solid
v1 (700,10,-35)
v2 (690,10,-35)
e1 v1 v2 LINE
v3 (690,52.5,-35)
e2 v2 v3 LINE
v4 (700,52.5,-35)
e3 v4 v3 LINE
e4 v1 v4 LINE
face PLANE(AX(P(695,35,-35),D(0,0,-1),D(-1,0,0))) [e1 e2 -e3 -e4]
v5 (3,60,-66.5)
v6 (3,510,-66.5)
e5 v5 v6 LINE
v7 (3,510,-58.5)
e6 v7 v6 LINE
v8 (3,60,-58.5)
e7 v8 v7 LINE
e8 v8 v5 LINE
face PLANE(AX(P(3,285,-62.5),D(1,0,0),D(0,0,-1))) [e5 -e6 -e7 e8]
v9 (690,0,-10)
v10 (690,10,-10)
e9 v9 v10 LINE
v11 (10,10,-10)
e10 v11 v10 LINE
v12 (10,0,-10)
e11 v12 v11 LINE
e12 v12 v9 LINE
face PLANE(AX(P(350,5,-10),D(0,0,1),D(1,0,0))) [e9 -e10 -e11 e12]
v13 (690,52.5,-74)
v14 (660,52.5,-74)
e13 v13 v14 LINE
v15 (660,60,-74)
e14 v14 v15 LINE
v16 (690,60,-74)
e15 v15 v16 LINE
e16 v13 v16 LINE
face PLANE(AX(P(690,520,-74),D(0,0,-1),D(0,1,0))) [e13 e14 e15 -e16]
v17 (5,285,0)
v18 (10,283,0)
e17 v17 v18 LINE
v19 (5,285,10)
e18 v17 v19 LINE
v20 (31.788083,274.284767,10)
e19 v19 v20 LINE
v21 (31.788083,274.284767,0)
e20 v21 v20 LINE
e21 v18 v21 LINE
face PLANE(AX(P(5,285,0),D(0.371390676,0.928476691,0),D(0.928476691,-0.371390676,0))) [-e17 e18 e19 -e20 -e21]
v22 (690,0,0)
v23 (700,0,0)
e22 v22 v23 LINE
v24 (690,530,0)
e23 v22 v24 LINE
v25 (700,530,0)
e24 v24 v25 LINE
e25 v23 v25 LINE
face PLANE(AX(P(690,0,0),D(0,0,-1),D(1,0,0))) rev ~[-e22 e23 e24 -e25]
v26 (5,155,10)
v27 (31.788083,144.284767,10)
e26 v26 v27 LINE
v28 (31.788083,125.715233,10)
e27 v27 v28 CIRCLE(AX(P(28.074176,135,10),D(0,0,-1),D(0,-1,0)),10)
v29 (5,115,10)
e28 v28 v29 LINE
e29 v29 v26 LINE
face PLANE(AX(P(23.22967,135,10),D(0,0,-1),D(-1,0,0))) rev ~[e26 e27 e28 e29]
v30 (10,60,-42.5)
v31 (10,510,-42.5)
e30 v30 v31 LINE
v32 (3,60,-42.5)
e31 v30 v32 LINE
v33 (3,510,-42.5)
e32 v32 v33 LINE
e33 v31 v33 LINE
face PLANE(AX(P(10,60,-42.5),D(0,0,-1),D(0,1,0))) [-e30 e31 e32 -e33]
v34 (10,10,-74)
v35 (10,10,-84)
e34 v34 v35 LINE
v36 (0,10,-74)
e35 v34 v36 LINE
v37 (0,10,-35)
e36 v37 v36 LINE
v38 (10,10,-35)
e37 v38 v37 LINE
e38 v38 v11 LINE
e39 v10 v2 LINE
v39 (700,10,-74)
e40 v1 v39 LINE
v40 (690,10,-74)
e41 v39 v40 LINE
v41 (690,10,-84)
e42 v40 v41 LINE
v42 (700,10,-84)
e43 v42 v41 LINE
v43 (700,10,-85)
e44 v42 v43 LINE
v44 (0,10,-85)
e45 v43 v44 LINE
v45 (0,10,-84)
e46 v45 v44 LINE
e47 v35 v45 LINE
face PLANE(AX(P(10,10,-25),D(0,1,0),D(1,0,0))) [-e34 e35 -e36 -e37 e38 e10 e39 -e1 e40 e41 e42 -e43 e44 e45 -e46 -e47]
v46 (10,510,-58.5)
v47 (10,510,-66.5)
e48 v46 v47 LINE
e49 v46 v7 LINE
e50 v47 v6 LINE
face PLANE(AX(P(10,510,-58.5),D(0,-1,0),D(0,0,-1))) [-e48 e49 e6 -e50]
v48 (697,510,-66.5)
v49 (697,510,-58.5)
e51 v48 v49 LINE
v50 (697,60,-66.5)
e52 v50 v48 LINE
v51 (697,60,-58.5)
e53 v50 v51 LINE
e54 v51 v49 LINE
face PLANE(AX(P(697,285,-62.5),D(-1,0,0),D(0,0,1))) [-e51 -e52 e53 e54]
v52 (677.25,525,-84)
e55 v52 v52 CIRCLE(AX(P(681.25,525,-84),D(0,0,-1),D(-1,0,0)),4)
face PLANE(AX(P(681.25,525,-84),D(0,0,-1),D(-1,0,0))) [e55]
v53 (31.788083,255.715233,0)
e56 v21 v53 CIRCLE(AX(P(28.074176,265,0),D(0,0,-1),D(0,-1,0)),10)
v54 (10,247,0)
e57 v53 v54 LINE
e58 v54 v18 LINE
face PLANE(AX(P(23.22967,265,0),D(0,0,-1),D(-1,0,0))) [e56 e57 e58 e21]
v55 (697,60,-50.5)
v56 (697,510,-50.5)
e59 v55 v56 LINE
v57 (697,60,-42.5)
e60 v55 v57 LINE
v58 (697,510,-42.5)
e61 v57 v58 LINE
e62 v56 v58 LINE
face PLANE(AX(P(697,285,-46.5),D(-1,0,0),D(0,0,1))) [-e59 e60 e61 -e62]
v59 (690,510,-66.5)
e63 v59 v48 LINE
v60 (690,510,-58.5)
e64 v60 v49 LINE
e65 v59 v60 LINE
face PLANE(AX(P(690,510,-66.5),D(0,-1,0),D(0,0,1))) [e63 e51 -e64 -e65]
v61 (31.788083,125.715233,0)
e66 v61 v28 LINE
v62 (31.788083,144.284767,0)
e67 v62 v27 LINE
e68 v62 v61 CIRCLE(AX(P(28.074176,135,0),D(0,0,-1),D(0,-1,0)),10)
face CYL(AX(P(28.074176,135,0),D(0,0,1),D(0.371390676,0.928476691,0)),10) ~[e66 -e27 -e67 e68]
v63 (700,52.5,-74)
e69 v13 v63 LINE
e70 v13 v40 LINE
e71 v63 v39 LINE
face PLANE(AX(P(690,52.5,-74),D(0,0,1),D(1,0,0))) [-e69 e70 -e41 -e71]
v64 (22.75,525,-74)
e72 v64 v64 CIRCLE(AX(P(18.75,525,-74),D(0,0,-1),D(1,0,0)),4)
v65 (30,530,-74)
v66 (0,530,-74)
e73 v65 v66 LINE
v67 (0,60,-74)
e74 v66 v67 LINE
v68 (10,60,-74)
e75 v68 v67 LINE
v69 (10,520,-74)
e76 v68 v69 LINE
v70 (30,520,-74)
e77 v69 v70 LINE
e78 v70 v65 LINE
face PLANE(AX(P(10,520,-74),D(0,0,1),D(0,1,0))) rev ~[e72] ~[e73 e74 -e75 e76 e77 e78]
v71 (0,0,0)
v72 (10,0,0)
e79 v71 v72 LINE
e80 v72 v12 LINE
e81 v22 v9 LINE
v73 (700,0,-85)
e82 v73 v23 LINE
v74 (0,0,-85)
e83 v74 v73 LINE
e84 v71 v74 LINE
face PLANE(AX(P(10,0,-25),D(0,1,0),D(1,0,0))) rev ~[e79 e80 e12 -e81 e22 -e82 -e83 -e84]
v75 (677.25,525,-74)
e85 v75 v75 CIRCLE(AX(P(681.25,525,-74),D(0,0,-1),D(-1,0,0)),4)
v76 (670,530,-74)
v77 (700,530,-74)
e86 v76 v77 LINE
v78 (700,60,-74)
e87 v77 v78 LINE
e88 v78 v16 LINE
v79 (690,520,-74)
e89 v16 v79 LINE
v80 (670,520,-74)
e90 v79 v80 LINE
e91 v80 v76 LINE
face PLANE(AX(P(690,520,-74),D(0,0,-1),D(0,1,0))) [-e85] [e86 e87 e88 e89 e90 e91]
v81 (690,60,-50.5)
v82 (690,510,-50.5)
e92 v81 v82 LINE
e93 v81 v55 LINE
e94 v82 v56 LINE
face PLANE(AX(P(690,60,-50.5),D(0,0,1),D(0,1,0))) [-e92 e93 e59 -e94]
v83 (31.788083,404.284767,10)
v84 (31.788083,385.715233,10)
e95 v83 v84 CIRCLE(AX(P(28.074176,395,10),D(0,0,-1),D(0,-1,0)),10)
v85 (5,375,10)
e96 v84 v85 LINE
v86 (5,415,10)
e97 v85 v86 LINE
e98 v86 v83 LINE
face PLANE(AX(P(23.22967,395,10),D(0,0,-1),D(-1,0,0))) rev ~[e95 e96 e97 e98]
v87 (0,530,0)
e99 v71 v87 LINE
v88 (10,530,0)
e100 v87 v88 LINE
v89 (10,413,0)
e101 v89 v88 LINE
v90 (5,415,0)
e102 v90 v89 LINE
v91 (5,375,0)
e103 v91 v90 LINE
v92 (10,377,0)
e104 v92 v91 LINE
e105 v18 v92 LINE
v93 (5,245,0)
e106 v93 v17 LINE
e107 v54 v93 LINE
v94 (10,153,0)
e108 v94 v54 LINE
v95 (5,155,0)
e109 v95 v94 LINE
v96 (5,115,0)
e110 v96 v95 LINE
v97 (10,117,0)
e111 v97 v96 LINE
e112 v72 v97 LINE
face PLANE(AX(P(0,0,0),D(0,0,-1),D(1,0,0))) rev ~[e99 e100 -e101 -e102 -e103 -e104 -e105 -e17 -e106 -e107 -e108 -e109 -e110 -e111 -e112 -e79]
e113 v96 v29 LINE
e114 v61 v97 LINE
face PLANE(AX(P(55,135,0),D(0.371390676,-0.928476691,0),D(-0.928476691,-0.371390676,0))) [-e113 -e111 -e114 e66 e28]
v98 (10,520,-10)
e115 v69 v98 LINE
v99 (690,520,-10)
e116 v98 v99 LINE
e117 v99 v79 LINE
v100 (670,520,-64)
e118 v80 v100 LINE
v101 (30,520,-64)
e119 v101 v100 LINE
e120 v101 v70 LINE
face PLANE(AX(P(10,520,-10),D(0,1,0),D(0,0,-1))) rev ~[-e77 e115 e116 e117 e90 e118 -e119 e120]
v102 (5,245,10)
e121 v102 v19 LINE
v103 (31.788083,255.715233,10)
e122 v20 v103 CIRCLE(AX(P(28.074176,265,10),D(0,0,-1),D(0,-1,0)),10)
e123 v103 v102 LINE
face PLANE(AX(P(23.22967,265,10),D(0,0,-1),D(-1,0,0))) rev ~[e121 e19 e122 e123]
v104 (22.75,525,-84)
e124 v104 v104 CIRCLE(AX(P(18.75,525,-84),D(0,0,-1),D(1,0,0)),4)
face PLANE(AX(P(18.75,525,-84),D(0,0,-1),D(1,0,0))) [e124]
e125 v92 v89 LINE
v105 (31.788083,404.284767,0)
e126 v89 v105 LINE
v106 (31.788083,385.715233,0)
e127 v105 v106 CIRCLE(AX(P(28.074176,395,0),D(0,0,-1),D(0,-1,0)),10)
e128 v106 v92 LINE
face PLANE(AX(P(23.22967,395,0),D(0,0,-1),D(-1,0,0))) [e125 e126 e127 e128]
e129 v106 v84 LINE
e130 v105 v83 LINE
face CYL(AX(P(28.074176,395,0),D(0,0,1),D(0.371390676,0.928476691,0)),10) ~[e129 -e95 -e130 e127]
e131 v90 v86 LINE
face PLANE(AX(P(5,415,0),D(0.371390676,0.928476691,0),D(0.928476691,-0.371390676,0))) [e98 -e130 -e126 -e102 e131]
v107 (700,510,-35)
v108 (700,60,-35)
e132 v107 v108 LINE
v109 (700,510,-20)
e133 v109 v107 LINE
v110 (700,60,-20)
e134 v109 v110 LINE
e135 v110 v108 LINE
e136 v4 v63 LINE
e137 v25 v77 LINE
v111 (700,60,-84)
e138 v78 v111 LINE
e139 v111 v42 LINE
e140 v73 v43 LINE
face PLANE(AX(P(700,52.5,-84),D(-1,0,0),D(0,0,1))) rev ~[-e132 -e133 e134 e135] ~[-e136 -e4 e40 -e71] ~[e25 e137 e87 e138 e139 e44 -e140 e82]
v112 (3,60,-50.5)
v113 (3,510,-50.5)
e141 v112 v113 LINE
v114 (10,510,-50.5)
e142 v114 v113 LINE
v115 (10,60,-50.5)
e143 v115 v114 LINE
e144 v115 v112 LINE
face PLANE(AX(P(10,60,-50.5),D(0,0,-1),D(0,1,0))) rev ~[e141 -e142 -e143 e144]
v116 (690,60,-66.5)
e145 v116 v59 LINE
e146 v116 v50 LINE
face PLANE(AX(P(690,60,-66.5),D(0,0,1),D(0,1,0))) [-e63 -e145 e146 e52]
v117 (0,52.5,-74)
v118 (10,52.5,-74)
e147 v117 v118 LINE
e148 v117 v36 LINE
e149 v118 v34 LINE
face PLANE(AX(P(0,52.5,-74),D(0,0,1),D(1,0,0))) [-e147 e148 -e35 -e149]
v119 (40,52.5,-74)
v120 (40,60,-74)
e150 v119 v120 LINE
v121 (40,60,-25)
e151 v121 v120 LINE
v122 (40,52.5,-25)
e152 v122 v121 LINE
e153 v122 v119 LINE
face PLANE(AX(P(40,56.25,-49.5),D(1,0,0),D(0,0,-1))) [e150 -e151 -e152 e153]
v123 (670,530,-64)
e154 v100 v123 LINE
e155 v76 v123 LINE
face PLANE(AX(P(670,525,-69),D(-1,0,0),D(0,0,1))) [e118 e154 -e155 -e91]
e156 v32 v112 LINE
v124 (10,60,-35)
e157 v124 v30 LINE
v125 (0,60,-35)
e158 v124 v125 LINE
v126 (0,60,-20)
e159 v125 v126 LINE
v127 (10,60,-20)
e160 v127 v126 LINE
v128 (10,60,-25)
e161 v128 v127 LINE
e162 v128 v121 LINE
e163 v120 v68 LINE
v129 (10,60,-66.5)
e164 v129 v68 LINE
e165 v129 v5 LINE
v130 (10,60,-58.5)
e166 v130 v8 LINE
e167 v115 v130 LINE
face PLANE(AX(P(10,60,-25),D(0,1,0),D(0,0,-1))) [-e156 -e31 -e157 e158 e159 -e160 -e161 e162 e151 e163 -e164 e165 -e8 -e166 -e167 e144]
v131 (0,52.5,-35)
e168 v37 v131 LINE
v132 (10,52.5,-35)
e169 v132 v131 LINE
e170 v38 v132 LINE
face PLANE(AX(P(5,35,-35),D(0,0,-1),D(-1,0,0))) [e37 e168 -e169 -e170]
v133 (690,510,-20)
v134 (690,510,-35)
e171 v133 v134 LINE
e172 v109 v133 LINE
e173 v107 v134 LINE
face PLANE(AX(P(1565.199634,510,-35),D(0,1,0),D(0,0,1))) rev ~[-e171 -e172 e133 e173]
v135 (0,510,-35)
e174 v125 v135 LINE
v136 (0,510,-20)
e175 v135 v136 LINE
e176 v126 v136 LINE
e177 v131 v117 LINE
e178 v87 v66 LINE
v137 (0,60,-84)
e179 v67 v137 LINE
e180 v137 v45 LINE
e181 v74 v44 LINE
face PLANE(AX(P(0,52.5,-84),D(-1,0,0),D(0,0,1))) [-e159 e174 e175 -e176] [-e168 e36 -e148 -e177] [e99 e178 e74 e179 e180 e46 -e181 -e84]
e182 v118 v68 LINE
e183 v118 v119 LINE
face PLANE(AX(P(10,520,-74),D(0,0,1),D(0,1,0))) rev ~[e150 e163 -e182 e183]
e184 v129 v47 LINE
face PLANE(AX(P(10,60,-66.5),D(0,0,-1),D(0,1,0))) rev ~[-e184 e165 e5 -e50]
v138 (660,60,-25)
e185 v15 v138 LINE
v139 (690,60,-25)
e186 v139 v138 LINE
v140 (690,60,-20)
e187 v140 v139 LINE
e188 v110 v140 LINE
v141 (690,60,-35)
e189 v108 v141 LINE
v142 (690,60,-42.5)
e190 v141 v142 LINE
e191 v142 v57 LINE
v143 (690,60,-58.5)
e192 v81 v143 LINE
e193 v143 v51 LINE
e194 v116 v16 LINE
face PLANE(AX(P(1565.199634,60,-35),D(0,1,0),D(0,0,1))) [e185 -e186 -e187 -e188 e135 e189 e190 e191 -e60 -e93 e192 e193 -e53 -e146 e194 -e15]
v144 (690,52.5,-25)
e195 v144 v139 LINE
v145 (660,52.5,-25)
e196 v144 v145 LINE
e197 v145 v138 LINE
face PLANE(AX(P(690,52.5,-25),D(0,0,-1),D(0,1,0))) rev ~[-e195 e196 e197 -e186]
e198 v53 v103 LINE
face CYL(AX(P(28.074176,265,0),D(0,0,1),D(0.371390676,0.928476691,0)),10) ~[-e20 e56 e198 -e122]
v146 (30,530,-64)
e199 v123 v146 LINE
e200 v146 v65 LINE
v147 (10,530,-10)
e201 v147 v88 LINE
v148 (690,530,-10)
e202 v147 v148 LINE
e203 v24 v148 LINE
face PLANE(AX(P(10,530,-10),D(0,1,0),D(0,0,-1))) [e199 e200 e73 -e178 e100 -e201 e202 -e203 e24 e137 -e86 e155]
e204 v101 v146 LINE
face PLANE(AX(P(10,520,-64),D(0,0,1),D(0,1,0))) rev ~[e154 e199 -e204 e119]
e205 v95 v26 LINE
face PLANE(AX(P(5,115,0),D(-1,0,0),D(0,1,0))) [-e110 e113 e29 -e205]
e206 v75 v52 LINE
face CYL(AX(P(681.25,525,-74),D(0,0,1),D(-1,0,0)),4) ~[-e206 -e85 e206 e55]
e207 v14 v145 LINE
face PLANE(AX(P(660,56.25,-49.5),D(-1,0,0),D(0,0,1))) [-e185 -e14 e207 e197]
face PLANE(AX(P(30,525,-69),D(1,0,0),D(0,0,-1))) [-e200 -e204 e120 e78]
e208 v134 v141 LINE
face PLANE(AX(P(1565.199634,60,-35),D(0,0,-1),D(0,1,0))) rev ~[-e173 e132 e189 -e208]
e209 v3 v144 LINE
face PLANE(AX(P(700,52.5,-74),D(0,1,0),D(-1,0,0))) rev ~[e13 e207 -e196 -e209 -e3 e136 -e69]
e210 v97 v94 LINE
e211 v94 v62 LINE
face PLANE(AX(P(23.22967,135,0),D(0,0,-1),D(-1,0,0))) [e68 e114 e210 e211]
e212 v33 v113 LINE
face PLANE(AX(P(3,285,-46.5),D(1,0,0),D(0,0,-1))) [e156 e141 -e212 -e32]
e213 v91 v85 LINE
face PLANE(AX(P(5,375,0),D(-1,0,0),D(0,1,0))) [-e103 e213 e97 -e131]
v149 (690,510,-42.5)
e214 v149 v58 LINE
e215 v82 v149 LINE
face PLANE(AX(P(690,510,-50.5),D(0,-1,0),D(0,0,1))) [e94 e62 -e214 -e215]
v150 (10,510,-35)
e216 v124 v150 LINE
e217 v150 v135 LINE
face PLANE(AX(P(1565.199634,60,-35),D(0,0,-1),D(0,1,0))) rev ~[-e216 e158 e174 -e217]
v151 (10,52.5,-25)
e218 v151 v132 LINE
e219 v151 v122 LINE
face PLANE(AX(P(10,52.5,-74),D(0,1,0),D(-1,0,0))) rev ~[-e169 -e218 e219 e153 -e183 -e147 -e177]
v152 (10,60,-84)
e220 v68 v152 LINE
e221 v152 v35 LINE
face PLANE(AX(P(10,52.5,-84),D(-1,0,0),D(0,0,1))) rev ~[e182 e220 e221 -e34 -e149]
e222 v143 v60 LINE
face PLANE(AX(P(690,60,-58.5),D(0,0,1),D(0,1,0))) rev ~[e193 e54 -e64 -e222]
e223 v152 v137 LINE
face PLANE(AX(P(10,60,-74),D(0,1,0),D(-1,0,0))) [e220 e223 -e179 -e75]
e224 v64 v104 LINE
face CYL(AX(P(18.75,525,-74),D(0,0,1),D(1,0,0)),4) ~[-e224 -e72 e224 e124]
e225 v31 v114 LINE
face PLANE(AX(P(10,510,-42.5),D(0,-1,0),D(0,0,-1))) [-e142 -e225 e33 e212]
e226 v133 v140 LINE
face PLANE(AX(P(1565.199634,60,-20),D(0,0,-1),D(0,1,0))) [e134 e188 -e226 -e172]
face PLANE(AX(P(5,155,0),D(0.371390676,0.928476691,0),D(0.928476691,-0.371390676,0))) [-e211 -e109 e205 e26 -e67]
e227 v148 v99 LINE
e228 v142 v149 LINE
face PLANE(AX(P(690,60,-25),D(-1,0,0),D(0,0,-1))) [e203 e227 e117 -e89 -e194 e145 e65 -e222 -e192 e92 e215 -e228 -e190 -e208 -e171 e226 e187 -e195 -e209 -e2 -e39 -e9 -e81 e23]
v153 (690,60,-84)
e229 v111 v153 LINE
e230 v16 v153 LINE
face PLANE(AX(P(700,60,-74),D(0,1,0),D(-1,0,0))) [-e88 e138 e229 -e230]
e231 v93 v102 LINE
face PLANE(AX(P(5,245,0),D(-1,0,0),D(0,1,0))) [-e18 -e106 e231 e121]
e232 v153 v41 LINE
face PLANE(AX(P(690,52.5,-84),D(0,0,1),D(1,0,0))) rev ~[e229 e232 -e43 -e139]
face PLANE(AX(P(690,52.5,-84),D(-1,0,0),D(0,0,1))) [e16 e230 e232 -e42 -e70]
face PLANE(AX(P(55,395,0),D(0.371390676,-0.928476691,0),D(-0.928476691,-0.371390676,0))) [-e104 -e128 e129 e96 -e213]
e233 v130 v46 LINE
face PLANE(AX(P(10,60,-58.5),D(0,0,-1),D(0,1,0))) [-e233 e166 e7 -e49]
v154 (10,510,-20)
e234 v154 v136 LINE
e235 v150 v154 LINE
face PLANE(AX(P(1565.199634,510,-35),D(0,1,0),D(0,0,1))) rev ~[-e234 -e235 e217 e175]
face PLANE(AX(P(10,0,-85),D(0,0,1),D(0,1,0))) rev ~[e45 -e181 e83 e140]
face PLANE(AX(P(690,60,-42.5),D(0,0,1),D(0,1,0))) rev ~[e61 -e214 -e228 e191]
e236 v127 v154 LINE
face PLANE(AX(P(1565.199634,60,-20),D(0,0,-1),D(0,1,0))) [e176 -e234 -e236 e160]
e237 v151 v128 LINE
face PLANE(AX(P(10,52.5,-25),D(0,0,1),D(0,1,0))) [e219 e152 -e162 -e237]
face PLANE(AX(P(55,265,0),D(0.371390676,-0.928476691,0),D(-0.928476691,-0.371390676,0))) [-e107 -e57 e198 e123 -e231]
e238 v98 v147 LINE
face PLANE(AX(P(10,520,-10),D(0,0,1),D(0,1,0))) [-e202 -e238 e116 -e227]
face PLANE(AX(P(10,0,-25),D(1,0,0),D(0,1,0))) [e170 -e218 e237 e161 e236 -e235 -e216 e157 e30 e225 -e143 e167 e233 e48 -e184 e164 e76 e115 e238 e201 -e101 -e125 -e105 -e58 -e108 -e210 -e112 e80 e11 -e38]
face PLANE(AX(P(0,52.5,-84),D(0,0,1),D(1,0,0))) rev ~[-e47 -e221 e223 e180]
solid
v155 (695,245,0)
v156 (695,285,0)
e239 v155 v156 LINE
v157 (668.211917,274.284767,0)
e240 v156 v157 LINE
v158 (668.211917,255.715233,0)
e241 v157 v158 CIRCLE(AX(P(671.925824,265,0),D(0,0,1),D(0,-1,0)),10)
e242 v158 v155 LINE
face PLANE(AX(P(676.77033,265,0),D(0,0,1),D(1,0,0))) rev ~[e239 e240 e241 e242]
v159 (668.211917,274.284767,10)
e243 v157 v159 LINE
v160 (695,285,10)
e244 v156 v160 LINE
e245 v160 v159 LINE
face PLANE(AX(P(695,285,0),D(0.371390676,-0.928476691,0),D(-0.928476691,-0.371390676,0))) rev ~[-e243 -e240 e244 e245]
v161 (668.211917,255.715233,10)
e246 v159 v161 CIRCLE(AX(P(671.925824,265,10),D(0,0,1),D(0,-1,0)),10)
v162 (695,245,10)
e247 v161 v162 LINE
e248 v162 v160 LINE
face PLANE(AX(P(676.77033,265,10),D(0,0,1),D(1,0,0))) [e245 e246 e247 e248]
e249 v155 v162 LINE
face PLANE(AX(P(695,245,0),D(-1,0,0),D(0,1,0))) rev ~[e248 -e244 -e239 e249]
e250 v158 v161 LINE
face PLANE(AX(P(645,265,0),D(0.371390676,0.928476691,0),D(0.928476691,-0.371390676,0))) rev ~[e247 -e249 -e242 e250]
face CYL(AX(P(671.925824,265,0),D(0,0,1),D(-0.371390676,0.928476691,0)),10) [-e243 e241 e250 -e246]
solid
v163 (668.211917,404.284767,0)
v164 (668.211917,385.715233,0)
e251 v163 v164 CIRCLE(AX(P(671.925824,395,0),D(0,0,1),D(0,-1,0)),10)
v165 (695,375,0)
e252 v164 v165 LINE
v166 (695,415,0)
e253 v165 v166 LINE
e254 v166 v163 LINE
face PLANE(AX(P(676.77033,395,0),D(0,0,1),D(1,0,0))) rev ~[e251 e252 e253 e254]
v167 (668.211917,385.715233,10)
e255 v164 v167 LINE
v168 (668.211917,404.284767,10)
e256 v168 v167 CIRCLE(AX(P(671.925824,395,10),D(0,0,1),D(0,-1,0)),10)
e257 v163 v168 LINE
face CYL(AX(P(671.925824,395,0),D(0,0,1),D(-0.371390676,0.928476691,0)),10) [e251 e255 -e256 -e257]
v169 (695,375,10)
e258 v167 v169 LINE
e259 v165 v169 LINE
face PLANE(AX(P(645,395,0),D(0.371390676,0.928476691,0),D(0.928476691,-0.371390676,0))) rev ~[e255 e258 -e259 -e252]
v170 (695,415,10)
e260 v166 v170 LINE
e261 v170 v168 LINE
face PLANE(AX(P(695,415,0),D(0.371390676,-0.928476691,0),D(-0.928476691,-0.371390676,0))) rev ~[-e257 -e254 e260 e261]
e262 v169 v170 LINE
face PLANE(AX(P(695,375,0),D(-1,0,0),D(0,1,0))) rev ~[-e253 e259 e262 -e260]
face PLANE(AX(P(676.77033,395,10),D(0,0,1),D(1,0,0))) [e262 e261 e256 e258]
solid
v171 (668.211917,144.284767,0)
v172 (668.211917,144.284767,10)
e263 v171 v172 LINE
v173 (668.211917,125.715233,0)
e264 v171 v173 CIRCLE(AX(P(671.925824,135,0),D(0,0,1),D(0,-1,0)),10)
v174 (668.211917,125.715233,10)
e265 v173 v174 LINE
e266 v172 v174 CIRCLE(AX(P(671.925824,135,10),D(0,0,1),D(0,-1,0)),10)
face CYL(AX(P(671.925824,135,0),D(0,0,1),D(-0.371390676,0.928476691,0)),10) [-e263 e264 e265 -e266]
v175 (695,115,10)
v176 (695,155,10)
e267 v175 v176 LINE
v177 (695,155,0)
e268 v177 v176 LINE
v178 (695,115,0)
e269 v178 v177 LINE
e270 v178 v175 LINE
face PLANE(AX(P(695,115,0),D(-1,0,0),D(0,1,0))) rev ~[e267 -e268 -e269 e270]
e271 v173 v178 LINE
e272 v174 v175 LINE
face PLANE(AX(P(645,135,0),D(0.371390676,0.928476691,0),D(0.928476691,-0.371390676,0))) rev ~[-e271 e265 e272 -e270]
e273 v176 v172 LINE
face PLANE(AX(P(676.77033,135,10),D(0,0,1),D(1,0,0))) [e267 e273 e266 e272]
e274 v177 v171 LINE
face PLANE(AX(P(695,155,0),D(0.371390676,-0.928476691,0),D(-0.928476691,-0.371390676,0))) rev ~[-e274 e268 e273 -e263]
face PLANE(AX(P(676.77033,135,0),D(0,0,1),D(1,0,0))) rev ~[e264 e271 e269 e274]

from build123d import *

# Parameters (mm, degrees)
ESQUISSE1_W                  = 10
ESQUISSE1_H                  = 25
BOSS_EXTRU_1_DEPTH           = 530
BOSS_EXTRU_1_2_DEPTH         = 530
BOSS_EXTRU_4_DEPTH           = 10
ESQUISSE8_W                  = 10
ESQUISSE8_H                  = 10
BOSS_EXTRU_5_DEPTH           = 60
ESQUISSE9_W                  = 60
ESQUISSE9_H                  = 10
BOSS_EXTRU_6_DEPTH           = 690
CONG_1_R                     = 10
CONG_2_R                     = 10
CONG_3_R                     = 10
CONG_4_R                     = 10
ESQUISSE10_W                 = 680
ESQUISSE10_H                 = 10
BOSS_EXTRU_7_DEPTH           = 15
ESQUISSE11_W                 = 10
ESQUISSE11_H                 = 50
BOSS_EXTRU_8_DEPTH           = 10
ESQUISSE12_W                 = 10
ESQUISSE12_H                 = 7.5
BOSS_EXTRU_9_DEPTH           = 39
ESQUISSE13_W                 = 49
ESQUISSE13_H                 = 7.5
BOSS_EXTRU_10_DEPTH          = 30
ESQUISSE19_W                 = 49
ESQUISSE19_H                 = 7.5
BOSS_EXTRU_14_DEPTH          = 30
ESQUISSE14_W                 = 10
ESQUISSE14_H                 = 49
BOSS_EXTRU_11_DEPTH          = 470
ESQUISSE16_W                 = 10
ESQUISSE16_H                 = 10
BOSS_EXTRU_12_DEPTH          = 20
ESQUISSE20_W                 = 10
ESQUISSE20_H                 = 10
BOSS_EXTRU_15_DEPTH          = 20
ESQUISSE17_R                 = 4
BOSS_EXTRU_13_DEPTH          = 10
BOSS_EXTRU_16_REACH          = 876.2
ESQUISSE21_W                 = 54
ESQUISSE21_H                 = 10
ENL_V_MAT_EXTRU_1_DEPTH      = 875.199633951
ENL_V_MAT_EXTRU_1_DEPTH_BACK = 875.199633951
ESQUISSE22_W                 = 15
ESQUISSE22_H                 = 450
ESQUISSE23_W                 = 10
ESQUISSE23_H                 = 7.5
BOSS_EXTRU_17_DEPTH          = 10
BOSS_EXTRU_18_REACH          = 853.605
ESQUISSE24_W                 = 10
ESQUISSE24_H                 = 10
ESQUISSE25_W                 = 10
ESQUISSE25_H                 = 7.5
BOSS_EXTRU_19_DEPTH          = 10
BOSS_EXTRU_20_REACH          = 853.605
ESQUISSE26_W                 = 10
ESQUISSE26_H                 = 10
ESQUISSE28_W                 = 8
ESQUISSE28_H                 = 450
ENL_V_MAT_EXTRU_2_DEPTH      = 7
ESQUISSE29_W                 = 8
ESQUISSE29_H                 = 450
ENL_V_MAT_EXTRU_3_DEPTH      = 7


with BuildPart() as part:
    # Esquisse1 → Boss.-Extru.1 (new body)
    with BuildSketch(Plane(origin=(0, 0, 0), x_dir=(1, 0, 0), z_dir=(0, 1, 0))):
        with Locations((5, 12.5)):
            Rectangle(ESQUISSE1_W, ESQUISSE1_H)
    extrude(amount=BOSS_EXTRU_1_DEPTH)

    # Esquisse7 → Boss.-Extru.4 (add)
    with BuildSketch(Plane.XY):
        Polygon((5, 415), (55, 395), (5, 375), align=None)
        Polygon((5, 285), (55, 265), (5, 245), align=None)
        Polygon((5, 155), (55, 135), (5, 115), align=None)
        Polygon((695, 115), (695, 155), (645, 135), align=None)
        Polygon((695, 245), (695, 285), (645, 265), align=None)
        Polygon((695, 375), (695, 415), (645, 395), align=None)
    extrude(amount=BOSS_EXTRU_4_DEPTH)


with BuildPart() as body_2:
    # Esquisse1 → Boss.-Extru.1 2 (new body)
    with BuildSketch(Plane(origin=(0, 0, 0), x_dir=(1, 0, 0), z_dir=(0, 1, 0))):
        with Locations((695, 12.5)):
            Rectangle(ESQUISSE1_W, ESQUISSE1_H)
    extrude(amount=BOSS_EXTRU_1_2_DEPTH)



with BuildPart() as boss_extru_4_piece_1:
    # of the separate pieces the step leaves, piece 1, a body of its own (boss_extru_4_pieces)
    add(part.part.solids().sort_by_distance((0, 0, 0))[0])

    # Esquisse8 → Boss.-Extru.5 (add)
    with BuildSketch(Plane(origin=(0, 0, -25), x_dir=(-1, 0, 0), z_dir=(0, 0, -1))):
        with Locations((-5, 5)):
            Rectangle(ESQUISSE8_W, ESQUISSE8_H)
    extrude(amount=BOSS_EXTRU_5_DEPTH)


with BuildPart() as boss_extru_4_piece_2:
    # of the separate pieces the step leaves, piece 2, a body of its own (boss_extru_4_pieces)
    add(part.part.solids().sort_by_distance((695, 115, 0))[0])

    # Congé4
    cong_4_edges = [boss_extru_4_piece_2.edges().sort_by_distance(p)[0] for p in [
        (645, 135, 5),
    ]]
    fillet(cong_4_edges, radius=CONG_4_R)


with BuildPart() as boss_extru_4_piece_3:
    # of the separate pieces the step leaves, piece 3, a body of its own (boss_extru_4_pieces)
    add(part.part.solids().sort_by_distance((695, 245, 0))[0])

    # Congé3
    cong_3_edges = [boss_extru_4_piece_3.edges().sort_by_distance(p)[0] for p in [
        (645, 265, 5),
    ]]
    fillet(cong_3_edges, radius=CONG_3_R)


with BuildPart() as boss_extru_4_piece_4:
    # of the separate pieces the step leaves, piece 4, a body of its own (boss_extru_4_pieces)
    add(part.part.solids().sort_by_distance((695, 375, 0))[0])

    # Congé2
    cong_2_edges = [boss_extru_4_piece_4.edges().sort_by_distance(p)[0] for p in [
        (645, 395, 5),
    ]]
    fillet(cong_2_edges, radius=CONG_2_R)


with BuildPart() as body_2_1:
    add(body_2.part)

    add(boss_extru_4_piece_1.part)  # Boss.-Extru.6 merges Boss.-Extru.4 piece 1
    # Esquisse9 → Boss.-Extru.6 (add)
    with BuildSketch(Plane(origin=(10, 0, 0), x_dir=(0, 0, -1), z_dir=(1, 0, 0))):
        with Locations((55, 5)):
            Rectangle(ESQUISSE9_W, ESQUISSE9_H)
    extrude(amount=BOSS_EXTRU_6_DEPTH)

    # Congé1
    cong_1_edges = [body_2_1.edges().sort_by_distance(p)[0] for p in [
        (55, 395, 5),
        (55, 265, 5),
        (55, 135, 5),
    ]]
    fillet(cong_1_edges, radius=CONG_1_R)

    # Esquisse10 → Boss.-Extru.7 (add)
    with BuildSketch(Plane.XY.offset(-25)):
        with Locations((350, 5)):
            Rectangle(ESQUISSE10_W, ESQUISSE10_H)
    extrude(amount=BOSS_EXTRU_7_DEPTH)

    # Esquisse11 → Boss.-Extru.8 (add)
    with BuildSketch(Plane(origin=(0, 0, -25), x_dir=(-1, 0, 0), z_dir=(0, 0, -1))):
        with Locations((-695, 35)):
            Rectangle(ESQUISSE11_W, ESQUISSE11_H)
        with Locations((-5, 35)):
            Rectangle(ESQUISSE11_W, ESQUISSE11_H)
    extrude(amount=BOSS_EXTRU_8_DEPTH)

    # Esquisse12 → Boss.-Extru.9 (add)
    with BuildSketch(Plane(origin=(0, 0, -35), x_dir=(-1, 0, 0), z_dir=(0, 0, -1))):
        with Locations((-695, 56.25)):
            Rectangle(ESQUISSE12_W, ESQUISSE12_H)
        with Locations((-5, 56.25)):
            Rectangle(ESQUISSE12_W, ESQUISSE12_H)
    extrude(amount=BOSS_EXTRU_9_DEPTH)

    # Esquisse13 → Boss.-Extru.10 (add)
    with BuildSketch(Plane.ZY.offset(-690)):
        with Locations((-49.5, 56.25)):
            Rectangle(ESQUISSE13_W, ESQUISSE13_H)
    extrude(amount=BOSS_EXTRU_10_DEPTH)

    # Esquisse19 → Boss.-Extru.14 (add)
    with BuildSketch(Plane(origin=(10, 0, 0), x_dir=(0, 0, -1), z_dir=(1, 0, 0))):
        with Locations((49.5, 56.25)):
            Rectangle(ESQUISSE19_W, ESQUISSE19_H)
    extrude(amount=BOSS_EXTRU_14_DEPTH)

    # Esquisse14 → Boss.-Extru.11 (add)
    with BuildSketch(Plane(origin=(0, 60, 0), x_dir=(1, 0, 0), z_dir=(0, 1, 0))):
        with Locations((695, 49.5)):
            Rectangle(ESQUISSE14_W, ESQUISSE14_H)
        with Locations((5, 49.5)):
            Rectangle(ESQUISSE14_W, ESQUISSE14_H)
    extrude(amount=BOSS_EXTRU_11_DEPTH)

    # Esquisse16 → Boss.-Extru.12 (add)
    with BuildSketch(Plane.ZY.offset(-690)):
        with Locations((-69, 525)):
            Rectangle(ESQUISSE16_W, ESQUISSE16_H)
    extrude(amount=BOSS_EXTRU_12_DEPTH)

    # Esquisse20 → Boss.-Extru.15 (add)
    with BuildSketch(Plane(origin=(10, 0, 0), x_dir=(0, 0, -1), z_dir=(1, 0, 0))):
        with Locations((69, 525)):
            Rectangle(ESQUISSE20_W, ESQUISSE20_H)
    extrude(amount=BOSS_EXTRU_15_DEPTH)

    # Esquisse17 → Boss.-Extru.13 (add)
    with BuildSketch(Plane(origin=(0, 0, -74), x_dir=(-1, 0, 0), z_dir=(0, 0, -1))):
        with Locations((-681.25, 525)):
            Circle(ESQUISSE17_R)
        with Locations(Location((-18.75, 525, 0), (0, 0, 180))):
            Circle(ESQUISSE17_R)
    extrude(amount=BOSS_EXTRU_13_DEPTH)

    # Esquisse21 → Boss.-Extru.16 (add, up to next)
    with BuildSketch(Plane(origin=(10, 0, 0), x_dir=(0, 0, -1), z_dir=(1, 0, 0)), mode=Mode.PRIVATE) as boss_extru_16_sk1:
        with Locations((37, 525)):
            Rectangle(ESQUISSE21_W, ESQUISSE21_H)
    boss_extru_16_tool1 = extrude(boss_extru_16_sk1.sketch, amount=BOSS_EXTRU_16_REACH, mode=Mode.PRIVATE) - body_2_1.part
    add(boss_extru_16_tool1.solids().sort_by_distance((10, 525, -37))[0])

    # Esquisse22 → Enlèv. mat.-Extru.1 (cut, two sides: drawn at the far end of the back side and taken through both)
    with BuildSketch(Plane.ZY.offset(-690).offset(-ENL_V_MAT_EXTRU_1_DEPTH_BACK)):
        with Locations((-27.5, 285)):
            Rectangle(ESQUISSE22_W, ESQUISSE22_H)
    extrude(amount=ENL_V_MAT_EXTRU_1_DEPTH + ENL_V_MAT_EXTRU_1_DEPTH_BACK, mode=Mode.SUBTRACT)

    # Esquisse23 → Boss.-Extru.17 (add)
    with BuildSketch(Plane(origin=(0, 0, -74), x_dir=(-1, 0, 0), z_dir=(0, 0, -1))):
        with Locations((-695, 56.25)):
            Rectangle(ESQUISSE23_W, ESQUISSE23_H)
    extrude(amount=BOSS_EXTRU_17_DEPTH)

    # Esquisse24 → Boss.-Extru.18 (add, up to next)
    with BuildSketch(Plane.XZ.offset(-52.5), mode=Mode.PRIVATE) as boss_extru_18_sk1:
        with Locations((695, -79)):
            Rectangle(ESQUISSE24_W, ESQUISSE24_H)
    boss_extru_18_tool1 = extrude(boss_extru_18_sk1.sketch, amount=BOSS_EXTRU_18_REACH, mode=Mode.PRIVATE) - body_2_1.part
    add(boss_extru_18_tool1.solids().sort_by_distance((695, 52.5, -79))[0])

    # Esquisse25 → Boss.-Extru.19 (add)
    with BuildSketch(Plane(origin=(0, 0, -74), x_dir=(-1, 0, 0), z_dir=(0, 0, -1))):
        with Locations((-5, 56.25)):
            Rectangle(ESQUISSE25_W, ESQUISSE25_H)
    extrude(amount=BOSS_EXTRU_19_DEPTH)

    # Esquisse26 → Boss.-Extru.20 (add, up to next)
    with BuildSketch(Plane.XZ.offset(-52.5), mode=Mode.PRIVATE) as boss_extru_20_sk1:
        with Locations((5, -79)):
            Rectangle(ESQUISSE26_W, ESQUISSE26_H)
    boss_extru_20_tool1 = extrude(boss_extru_20_sk1.sketch, amount=BOSS_EXTRU_20_REACH, mode=Mode.PRIVATE) - body_2_1.part
    add(boss_extru_20_tool1.solids().sort_by_distance((5, 52.5, -79))[0])

    # Esquisse28 → Enlèv. mat.-Extru.2 (cut)
    with BuildSketch(Plane.ZY.offset(-690)):
        with Locations((-62.5, 285)):
            Rectangle(ESQUISSE28_W, ESQUISSE28_H)
        with Locations((-46.5, 285)):
            Rectangle(ESQUISSE28_W, ESQUISSE28_H)
    extrude(amount=-ENL_V_MAT_EXTRU_2_DEPTH, mode=Mode.SUBTRACT)

    # Esquisse29 → Enlèv. mat.-Extru.3 (cut)
    with BuildSketch(Plane(origin=(10, 0, 0), x_dir=(0, 0, -1), z_dir=(1, 0, 0))):
        with Locations((46.5, 285)):
            Rectangle(ESQUISSE29_W, ESQUISSE29_H)
        with Locations((62.5, 285)):
            Rectangle(ESQUISSE29_W, ESQUISSE29_H)
    extrude(amount=-ENL_V_MAT_EXTRU_3_DEPTH, mode=Mode.SUBTRACT)


solid = Compound([boss_extru_4_piece_2.part, boss_extru_4_piece_3.part, boss_extru_4_piece_4.part, body_2_1.part])
